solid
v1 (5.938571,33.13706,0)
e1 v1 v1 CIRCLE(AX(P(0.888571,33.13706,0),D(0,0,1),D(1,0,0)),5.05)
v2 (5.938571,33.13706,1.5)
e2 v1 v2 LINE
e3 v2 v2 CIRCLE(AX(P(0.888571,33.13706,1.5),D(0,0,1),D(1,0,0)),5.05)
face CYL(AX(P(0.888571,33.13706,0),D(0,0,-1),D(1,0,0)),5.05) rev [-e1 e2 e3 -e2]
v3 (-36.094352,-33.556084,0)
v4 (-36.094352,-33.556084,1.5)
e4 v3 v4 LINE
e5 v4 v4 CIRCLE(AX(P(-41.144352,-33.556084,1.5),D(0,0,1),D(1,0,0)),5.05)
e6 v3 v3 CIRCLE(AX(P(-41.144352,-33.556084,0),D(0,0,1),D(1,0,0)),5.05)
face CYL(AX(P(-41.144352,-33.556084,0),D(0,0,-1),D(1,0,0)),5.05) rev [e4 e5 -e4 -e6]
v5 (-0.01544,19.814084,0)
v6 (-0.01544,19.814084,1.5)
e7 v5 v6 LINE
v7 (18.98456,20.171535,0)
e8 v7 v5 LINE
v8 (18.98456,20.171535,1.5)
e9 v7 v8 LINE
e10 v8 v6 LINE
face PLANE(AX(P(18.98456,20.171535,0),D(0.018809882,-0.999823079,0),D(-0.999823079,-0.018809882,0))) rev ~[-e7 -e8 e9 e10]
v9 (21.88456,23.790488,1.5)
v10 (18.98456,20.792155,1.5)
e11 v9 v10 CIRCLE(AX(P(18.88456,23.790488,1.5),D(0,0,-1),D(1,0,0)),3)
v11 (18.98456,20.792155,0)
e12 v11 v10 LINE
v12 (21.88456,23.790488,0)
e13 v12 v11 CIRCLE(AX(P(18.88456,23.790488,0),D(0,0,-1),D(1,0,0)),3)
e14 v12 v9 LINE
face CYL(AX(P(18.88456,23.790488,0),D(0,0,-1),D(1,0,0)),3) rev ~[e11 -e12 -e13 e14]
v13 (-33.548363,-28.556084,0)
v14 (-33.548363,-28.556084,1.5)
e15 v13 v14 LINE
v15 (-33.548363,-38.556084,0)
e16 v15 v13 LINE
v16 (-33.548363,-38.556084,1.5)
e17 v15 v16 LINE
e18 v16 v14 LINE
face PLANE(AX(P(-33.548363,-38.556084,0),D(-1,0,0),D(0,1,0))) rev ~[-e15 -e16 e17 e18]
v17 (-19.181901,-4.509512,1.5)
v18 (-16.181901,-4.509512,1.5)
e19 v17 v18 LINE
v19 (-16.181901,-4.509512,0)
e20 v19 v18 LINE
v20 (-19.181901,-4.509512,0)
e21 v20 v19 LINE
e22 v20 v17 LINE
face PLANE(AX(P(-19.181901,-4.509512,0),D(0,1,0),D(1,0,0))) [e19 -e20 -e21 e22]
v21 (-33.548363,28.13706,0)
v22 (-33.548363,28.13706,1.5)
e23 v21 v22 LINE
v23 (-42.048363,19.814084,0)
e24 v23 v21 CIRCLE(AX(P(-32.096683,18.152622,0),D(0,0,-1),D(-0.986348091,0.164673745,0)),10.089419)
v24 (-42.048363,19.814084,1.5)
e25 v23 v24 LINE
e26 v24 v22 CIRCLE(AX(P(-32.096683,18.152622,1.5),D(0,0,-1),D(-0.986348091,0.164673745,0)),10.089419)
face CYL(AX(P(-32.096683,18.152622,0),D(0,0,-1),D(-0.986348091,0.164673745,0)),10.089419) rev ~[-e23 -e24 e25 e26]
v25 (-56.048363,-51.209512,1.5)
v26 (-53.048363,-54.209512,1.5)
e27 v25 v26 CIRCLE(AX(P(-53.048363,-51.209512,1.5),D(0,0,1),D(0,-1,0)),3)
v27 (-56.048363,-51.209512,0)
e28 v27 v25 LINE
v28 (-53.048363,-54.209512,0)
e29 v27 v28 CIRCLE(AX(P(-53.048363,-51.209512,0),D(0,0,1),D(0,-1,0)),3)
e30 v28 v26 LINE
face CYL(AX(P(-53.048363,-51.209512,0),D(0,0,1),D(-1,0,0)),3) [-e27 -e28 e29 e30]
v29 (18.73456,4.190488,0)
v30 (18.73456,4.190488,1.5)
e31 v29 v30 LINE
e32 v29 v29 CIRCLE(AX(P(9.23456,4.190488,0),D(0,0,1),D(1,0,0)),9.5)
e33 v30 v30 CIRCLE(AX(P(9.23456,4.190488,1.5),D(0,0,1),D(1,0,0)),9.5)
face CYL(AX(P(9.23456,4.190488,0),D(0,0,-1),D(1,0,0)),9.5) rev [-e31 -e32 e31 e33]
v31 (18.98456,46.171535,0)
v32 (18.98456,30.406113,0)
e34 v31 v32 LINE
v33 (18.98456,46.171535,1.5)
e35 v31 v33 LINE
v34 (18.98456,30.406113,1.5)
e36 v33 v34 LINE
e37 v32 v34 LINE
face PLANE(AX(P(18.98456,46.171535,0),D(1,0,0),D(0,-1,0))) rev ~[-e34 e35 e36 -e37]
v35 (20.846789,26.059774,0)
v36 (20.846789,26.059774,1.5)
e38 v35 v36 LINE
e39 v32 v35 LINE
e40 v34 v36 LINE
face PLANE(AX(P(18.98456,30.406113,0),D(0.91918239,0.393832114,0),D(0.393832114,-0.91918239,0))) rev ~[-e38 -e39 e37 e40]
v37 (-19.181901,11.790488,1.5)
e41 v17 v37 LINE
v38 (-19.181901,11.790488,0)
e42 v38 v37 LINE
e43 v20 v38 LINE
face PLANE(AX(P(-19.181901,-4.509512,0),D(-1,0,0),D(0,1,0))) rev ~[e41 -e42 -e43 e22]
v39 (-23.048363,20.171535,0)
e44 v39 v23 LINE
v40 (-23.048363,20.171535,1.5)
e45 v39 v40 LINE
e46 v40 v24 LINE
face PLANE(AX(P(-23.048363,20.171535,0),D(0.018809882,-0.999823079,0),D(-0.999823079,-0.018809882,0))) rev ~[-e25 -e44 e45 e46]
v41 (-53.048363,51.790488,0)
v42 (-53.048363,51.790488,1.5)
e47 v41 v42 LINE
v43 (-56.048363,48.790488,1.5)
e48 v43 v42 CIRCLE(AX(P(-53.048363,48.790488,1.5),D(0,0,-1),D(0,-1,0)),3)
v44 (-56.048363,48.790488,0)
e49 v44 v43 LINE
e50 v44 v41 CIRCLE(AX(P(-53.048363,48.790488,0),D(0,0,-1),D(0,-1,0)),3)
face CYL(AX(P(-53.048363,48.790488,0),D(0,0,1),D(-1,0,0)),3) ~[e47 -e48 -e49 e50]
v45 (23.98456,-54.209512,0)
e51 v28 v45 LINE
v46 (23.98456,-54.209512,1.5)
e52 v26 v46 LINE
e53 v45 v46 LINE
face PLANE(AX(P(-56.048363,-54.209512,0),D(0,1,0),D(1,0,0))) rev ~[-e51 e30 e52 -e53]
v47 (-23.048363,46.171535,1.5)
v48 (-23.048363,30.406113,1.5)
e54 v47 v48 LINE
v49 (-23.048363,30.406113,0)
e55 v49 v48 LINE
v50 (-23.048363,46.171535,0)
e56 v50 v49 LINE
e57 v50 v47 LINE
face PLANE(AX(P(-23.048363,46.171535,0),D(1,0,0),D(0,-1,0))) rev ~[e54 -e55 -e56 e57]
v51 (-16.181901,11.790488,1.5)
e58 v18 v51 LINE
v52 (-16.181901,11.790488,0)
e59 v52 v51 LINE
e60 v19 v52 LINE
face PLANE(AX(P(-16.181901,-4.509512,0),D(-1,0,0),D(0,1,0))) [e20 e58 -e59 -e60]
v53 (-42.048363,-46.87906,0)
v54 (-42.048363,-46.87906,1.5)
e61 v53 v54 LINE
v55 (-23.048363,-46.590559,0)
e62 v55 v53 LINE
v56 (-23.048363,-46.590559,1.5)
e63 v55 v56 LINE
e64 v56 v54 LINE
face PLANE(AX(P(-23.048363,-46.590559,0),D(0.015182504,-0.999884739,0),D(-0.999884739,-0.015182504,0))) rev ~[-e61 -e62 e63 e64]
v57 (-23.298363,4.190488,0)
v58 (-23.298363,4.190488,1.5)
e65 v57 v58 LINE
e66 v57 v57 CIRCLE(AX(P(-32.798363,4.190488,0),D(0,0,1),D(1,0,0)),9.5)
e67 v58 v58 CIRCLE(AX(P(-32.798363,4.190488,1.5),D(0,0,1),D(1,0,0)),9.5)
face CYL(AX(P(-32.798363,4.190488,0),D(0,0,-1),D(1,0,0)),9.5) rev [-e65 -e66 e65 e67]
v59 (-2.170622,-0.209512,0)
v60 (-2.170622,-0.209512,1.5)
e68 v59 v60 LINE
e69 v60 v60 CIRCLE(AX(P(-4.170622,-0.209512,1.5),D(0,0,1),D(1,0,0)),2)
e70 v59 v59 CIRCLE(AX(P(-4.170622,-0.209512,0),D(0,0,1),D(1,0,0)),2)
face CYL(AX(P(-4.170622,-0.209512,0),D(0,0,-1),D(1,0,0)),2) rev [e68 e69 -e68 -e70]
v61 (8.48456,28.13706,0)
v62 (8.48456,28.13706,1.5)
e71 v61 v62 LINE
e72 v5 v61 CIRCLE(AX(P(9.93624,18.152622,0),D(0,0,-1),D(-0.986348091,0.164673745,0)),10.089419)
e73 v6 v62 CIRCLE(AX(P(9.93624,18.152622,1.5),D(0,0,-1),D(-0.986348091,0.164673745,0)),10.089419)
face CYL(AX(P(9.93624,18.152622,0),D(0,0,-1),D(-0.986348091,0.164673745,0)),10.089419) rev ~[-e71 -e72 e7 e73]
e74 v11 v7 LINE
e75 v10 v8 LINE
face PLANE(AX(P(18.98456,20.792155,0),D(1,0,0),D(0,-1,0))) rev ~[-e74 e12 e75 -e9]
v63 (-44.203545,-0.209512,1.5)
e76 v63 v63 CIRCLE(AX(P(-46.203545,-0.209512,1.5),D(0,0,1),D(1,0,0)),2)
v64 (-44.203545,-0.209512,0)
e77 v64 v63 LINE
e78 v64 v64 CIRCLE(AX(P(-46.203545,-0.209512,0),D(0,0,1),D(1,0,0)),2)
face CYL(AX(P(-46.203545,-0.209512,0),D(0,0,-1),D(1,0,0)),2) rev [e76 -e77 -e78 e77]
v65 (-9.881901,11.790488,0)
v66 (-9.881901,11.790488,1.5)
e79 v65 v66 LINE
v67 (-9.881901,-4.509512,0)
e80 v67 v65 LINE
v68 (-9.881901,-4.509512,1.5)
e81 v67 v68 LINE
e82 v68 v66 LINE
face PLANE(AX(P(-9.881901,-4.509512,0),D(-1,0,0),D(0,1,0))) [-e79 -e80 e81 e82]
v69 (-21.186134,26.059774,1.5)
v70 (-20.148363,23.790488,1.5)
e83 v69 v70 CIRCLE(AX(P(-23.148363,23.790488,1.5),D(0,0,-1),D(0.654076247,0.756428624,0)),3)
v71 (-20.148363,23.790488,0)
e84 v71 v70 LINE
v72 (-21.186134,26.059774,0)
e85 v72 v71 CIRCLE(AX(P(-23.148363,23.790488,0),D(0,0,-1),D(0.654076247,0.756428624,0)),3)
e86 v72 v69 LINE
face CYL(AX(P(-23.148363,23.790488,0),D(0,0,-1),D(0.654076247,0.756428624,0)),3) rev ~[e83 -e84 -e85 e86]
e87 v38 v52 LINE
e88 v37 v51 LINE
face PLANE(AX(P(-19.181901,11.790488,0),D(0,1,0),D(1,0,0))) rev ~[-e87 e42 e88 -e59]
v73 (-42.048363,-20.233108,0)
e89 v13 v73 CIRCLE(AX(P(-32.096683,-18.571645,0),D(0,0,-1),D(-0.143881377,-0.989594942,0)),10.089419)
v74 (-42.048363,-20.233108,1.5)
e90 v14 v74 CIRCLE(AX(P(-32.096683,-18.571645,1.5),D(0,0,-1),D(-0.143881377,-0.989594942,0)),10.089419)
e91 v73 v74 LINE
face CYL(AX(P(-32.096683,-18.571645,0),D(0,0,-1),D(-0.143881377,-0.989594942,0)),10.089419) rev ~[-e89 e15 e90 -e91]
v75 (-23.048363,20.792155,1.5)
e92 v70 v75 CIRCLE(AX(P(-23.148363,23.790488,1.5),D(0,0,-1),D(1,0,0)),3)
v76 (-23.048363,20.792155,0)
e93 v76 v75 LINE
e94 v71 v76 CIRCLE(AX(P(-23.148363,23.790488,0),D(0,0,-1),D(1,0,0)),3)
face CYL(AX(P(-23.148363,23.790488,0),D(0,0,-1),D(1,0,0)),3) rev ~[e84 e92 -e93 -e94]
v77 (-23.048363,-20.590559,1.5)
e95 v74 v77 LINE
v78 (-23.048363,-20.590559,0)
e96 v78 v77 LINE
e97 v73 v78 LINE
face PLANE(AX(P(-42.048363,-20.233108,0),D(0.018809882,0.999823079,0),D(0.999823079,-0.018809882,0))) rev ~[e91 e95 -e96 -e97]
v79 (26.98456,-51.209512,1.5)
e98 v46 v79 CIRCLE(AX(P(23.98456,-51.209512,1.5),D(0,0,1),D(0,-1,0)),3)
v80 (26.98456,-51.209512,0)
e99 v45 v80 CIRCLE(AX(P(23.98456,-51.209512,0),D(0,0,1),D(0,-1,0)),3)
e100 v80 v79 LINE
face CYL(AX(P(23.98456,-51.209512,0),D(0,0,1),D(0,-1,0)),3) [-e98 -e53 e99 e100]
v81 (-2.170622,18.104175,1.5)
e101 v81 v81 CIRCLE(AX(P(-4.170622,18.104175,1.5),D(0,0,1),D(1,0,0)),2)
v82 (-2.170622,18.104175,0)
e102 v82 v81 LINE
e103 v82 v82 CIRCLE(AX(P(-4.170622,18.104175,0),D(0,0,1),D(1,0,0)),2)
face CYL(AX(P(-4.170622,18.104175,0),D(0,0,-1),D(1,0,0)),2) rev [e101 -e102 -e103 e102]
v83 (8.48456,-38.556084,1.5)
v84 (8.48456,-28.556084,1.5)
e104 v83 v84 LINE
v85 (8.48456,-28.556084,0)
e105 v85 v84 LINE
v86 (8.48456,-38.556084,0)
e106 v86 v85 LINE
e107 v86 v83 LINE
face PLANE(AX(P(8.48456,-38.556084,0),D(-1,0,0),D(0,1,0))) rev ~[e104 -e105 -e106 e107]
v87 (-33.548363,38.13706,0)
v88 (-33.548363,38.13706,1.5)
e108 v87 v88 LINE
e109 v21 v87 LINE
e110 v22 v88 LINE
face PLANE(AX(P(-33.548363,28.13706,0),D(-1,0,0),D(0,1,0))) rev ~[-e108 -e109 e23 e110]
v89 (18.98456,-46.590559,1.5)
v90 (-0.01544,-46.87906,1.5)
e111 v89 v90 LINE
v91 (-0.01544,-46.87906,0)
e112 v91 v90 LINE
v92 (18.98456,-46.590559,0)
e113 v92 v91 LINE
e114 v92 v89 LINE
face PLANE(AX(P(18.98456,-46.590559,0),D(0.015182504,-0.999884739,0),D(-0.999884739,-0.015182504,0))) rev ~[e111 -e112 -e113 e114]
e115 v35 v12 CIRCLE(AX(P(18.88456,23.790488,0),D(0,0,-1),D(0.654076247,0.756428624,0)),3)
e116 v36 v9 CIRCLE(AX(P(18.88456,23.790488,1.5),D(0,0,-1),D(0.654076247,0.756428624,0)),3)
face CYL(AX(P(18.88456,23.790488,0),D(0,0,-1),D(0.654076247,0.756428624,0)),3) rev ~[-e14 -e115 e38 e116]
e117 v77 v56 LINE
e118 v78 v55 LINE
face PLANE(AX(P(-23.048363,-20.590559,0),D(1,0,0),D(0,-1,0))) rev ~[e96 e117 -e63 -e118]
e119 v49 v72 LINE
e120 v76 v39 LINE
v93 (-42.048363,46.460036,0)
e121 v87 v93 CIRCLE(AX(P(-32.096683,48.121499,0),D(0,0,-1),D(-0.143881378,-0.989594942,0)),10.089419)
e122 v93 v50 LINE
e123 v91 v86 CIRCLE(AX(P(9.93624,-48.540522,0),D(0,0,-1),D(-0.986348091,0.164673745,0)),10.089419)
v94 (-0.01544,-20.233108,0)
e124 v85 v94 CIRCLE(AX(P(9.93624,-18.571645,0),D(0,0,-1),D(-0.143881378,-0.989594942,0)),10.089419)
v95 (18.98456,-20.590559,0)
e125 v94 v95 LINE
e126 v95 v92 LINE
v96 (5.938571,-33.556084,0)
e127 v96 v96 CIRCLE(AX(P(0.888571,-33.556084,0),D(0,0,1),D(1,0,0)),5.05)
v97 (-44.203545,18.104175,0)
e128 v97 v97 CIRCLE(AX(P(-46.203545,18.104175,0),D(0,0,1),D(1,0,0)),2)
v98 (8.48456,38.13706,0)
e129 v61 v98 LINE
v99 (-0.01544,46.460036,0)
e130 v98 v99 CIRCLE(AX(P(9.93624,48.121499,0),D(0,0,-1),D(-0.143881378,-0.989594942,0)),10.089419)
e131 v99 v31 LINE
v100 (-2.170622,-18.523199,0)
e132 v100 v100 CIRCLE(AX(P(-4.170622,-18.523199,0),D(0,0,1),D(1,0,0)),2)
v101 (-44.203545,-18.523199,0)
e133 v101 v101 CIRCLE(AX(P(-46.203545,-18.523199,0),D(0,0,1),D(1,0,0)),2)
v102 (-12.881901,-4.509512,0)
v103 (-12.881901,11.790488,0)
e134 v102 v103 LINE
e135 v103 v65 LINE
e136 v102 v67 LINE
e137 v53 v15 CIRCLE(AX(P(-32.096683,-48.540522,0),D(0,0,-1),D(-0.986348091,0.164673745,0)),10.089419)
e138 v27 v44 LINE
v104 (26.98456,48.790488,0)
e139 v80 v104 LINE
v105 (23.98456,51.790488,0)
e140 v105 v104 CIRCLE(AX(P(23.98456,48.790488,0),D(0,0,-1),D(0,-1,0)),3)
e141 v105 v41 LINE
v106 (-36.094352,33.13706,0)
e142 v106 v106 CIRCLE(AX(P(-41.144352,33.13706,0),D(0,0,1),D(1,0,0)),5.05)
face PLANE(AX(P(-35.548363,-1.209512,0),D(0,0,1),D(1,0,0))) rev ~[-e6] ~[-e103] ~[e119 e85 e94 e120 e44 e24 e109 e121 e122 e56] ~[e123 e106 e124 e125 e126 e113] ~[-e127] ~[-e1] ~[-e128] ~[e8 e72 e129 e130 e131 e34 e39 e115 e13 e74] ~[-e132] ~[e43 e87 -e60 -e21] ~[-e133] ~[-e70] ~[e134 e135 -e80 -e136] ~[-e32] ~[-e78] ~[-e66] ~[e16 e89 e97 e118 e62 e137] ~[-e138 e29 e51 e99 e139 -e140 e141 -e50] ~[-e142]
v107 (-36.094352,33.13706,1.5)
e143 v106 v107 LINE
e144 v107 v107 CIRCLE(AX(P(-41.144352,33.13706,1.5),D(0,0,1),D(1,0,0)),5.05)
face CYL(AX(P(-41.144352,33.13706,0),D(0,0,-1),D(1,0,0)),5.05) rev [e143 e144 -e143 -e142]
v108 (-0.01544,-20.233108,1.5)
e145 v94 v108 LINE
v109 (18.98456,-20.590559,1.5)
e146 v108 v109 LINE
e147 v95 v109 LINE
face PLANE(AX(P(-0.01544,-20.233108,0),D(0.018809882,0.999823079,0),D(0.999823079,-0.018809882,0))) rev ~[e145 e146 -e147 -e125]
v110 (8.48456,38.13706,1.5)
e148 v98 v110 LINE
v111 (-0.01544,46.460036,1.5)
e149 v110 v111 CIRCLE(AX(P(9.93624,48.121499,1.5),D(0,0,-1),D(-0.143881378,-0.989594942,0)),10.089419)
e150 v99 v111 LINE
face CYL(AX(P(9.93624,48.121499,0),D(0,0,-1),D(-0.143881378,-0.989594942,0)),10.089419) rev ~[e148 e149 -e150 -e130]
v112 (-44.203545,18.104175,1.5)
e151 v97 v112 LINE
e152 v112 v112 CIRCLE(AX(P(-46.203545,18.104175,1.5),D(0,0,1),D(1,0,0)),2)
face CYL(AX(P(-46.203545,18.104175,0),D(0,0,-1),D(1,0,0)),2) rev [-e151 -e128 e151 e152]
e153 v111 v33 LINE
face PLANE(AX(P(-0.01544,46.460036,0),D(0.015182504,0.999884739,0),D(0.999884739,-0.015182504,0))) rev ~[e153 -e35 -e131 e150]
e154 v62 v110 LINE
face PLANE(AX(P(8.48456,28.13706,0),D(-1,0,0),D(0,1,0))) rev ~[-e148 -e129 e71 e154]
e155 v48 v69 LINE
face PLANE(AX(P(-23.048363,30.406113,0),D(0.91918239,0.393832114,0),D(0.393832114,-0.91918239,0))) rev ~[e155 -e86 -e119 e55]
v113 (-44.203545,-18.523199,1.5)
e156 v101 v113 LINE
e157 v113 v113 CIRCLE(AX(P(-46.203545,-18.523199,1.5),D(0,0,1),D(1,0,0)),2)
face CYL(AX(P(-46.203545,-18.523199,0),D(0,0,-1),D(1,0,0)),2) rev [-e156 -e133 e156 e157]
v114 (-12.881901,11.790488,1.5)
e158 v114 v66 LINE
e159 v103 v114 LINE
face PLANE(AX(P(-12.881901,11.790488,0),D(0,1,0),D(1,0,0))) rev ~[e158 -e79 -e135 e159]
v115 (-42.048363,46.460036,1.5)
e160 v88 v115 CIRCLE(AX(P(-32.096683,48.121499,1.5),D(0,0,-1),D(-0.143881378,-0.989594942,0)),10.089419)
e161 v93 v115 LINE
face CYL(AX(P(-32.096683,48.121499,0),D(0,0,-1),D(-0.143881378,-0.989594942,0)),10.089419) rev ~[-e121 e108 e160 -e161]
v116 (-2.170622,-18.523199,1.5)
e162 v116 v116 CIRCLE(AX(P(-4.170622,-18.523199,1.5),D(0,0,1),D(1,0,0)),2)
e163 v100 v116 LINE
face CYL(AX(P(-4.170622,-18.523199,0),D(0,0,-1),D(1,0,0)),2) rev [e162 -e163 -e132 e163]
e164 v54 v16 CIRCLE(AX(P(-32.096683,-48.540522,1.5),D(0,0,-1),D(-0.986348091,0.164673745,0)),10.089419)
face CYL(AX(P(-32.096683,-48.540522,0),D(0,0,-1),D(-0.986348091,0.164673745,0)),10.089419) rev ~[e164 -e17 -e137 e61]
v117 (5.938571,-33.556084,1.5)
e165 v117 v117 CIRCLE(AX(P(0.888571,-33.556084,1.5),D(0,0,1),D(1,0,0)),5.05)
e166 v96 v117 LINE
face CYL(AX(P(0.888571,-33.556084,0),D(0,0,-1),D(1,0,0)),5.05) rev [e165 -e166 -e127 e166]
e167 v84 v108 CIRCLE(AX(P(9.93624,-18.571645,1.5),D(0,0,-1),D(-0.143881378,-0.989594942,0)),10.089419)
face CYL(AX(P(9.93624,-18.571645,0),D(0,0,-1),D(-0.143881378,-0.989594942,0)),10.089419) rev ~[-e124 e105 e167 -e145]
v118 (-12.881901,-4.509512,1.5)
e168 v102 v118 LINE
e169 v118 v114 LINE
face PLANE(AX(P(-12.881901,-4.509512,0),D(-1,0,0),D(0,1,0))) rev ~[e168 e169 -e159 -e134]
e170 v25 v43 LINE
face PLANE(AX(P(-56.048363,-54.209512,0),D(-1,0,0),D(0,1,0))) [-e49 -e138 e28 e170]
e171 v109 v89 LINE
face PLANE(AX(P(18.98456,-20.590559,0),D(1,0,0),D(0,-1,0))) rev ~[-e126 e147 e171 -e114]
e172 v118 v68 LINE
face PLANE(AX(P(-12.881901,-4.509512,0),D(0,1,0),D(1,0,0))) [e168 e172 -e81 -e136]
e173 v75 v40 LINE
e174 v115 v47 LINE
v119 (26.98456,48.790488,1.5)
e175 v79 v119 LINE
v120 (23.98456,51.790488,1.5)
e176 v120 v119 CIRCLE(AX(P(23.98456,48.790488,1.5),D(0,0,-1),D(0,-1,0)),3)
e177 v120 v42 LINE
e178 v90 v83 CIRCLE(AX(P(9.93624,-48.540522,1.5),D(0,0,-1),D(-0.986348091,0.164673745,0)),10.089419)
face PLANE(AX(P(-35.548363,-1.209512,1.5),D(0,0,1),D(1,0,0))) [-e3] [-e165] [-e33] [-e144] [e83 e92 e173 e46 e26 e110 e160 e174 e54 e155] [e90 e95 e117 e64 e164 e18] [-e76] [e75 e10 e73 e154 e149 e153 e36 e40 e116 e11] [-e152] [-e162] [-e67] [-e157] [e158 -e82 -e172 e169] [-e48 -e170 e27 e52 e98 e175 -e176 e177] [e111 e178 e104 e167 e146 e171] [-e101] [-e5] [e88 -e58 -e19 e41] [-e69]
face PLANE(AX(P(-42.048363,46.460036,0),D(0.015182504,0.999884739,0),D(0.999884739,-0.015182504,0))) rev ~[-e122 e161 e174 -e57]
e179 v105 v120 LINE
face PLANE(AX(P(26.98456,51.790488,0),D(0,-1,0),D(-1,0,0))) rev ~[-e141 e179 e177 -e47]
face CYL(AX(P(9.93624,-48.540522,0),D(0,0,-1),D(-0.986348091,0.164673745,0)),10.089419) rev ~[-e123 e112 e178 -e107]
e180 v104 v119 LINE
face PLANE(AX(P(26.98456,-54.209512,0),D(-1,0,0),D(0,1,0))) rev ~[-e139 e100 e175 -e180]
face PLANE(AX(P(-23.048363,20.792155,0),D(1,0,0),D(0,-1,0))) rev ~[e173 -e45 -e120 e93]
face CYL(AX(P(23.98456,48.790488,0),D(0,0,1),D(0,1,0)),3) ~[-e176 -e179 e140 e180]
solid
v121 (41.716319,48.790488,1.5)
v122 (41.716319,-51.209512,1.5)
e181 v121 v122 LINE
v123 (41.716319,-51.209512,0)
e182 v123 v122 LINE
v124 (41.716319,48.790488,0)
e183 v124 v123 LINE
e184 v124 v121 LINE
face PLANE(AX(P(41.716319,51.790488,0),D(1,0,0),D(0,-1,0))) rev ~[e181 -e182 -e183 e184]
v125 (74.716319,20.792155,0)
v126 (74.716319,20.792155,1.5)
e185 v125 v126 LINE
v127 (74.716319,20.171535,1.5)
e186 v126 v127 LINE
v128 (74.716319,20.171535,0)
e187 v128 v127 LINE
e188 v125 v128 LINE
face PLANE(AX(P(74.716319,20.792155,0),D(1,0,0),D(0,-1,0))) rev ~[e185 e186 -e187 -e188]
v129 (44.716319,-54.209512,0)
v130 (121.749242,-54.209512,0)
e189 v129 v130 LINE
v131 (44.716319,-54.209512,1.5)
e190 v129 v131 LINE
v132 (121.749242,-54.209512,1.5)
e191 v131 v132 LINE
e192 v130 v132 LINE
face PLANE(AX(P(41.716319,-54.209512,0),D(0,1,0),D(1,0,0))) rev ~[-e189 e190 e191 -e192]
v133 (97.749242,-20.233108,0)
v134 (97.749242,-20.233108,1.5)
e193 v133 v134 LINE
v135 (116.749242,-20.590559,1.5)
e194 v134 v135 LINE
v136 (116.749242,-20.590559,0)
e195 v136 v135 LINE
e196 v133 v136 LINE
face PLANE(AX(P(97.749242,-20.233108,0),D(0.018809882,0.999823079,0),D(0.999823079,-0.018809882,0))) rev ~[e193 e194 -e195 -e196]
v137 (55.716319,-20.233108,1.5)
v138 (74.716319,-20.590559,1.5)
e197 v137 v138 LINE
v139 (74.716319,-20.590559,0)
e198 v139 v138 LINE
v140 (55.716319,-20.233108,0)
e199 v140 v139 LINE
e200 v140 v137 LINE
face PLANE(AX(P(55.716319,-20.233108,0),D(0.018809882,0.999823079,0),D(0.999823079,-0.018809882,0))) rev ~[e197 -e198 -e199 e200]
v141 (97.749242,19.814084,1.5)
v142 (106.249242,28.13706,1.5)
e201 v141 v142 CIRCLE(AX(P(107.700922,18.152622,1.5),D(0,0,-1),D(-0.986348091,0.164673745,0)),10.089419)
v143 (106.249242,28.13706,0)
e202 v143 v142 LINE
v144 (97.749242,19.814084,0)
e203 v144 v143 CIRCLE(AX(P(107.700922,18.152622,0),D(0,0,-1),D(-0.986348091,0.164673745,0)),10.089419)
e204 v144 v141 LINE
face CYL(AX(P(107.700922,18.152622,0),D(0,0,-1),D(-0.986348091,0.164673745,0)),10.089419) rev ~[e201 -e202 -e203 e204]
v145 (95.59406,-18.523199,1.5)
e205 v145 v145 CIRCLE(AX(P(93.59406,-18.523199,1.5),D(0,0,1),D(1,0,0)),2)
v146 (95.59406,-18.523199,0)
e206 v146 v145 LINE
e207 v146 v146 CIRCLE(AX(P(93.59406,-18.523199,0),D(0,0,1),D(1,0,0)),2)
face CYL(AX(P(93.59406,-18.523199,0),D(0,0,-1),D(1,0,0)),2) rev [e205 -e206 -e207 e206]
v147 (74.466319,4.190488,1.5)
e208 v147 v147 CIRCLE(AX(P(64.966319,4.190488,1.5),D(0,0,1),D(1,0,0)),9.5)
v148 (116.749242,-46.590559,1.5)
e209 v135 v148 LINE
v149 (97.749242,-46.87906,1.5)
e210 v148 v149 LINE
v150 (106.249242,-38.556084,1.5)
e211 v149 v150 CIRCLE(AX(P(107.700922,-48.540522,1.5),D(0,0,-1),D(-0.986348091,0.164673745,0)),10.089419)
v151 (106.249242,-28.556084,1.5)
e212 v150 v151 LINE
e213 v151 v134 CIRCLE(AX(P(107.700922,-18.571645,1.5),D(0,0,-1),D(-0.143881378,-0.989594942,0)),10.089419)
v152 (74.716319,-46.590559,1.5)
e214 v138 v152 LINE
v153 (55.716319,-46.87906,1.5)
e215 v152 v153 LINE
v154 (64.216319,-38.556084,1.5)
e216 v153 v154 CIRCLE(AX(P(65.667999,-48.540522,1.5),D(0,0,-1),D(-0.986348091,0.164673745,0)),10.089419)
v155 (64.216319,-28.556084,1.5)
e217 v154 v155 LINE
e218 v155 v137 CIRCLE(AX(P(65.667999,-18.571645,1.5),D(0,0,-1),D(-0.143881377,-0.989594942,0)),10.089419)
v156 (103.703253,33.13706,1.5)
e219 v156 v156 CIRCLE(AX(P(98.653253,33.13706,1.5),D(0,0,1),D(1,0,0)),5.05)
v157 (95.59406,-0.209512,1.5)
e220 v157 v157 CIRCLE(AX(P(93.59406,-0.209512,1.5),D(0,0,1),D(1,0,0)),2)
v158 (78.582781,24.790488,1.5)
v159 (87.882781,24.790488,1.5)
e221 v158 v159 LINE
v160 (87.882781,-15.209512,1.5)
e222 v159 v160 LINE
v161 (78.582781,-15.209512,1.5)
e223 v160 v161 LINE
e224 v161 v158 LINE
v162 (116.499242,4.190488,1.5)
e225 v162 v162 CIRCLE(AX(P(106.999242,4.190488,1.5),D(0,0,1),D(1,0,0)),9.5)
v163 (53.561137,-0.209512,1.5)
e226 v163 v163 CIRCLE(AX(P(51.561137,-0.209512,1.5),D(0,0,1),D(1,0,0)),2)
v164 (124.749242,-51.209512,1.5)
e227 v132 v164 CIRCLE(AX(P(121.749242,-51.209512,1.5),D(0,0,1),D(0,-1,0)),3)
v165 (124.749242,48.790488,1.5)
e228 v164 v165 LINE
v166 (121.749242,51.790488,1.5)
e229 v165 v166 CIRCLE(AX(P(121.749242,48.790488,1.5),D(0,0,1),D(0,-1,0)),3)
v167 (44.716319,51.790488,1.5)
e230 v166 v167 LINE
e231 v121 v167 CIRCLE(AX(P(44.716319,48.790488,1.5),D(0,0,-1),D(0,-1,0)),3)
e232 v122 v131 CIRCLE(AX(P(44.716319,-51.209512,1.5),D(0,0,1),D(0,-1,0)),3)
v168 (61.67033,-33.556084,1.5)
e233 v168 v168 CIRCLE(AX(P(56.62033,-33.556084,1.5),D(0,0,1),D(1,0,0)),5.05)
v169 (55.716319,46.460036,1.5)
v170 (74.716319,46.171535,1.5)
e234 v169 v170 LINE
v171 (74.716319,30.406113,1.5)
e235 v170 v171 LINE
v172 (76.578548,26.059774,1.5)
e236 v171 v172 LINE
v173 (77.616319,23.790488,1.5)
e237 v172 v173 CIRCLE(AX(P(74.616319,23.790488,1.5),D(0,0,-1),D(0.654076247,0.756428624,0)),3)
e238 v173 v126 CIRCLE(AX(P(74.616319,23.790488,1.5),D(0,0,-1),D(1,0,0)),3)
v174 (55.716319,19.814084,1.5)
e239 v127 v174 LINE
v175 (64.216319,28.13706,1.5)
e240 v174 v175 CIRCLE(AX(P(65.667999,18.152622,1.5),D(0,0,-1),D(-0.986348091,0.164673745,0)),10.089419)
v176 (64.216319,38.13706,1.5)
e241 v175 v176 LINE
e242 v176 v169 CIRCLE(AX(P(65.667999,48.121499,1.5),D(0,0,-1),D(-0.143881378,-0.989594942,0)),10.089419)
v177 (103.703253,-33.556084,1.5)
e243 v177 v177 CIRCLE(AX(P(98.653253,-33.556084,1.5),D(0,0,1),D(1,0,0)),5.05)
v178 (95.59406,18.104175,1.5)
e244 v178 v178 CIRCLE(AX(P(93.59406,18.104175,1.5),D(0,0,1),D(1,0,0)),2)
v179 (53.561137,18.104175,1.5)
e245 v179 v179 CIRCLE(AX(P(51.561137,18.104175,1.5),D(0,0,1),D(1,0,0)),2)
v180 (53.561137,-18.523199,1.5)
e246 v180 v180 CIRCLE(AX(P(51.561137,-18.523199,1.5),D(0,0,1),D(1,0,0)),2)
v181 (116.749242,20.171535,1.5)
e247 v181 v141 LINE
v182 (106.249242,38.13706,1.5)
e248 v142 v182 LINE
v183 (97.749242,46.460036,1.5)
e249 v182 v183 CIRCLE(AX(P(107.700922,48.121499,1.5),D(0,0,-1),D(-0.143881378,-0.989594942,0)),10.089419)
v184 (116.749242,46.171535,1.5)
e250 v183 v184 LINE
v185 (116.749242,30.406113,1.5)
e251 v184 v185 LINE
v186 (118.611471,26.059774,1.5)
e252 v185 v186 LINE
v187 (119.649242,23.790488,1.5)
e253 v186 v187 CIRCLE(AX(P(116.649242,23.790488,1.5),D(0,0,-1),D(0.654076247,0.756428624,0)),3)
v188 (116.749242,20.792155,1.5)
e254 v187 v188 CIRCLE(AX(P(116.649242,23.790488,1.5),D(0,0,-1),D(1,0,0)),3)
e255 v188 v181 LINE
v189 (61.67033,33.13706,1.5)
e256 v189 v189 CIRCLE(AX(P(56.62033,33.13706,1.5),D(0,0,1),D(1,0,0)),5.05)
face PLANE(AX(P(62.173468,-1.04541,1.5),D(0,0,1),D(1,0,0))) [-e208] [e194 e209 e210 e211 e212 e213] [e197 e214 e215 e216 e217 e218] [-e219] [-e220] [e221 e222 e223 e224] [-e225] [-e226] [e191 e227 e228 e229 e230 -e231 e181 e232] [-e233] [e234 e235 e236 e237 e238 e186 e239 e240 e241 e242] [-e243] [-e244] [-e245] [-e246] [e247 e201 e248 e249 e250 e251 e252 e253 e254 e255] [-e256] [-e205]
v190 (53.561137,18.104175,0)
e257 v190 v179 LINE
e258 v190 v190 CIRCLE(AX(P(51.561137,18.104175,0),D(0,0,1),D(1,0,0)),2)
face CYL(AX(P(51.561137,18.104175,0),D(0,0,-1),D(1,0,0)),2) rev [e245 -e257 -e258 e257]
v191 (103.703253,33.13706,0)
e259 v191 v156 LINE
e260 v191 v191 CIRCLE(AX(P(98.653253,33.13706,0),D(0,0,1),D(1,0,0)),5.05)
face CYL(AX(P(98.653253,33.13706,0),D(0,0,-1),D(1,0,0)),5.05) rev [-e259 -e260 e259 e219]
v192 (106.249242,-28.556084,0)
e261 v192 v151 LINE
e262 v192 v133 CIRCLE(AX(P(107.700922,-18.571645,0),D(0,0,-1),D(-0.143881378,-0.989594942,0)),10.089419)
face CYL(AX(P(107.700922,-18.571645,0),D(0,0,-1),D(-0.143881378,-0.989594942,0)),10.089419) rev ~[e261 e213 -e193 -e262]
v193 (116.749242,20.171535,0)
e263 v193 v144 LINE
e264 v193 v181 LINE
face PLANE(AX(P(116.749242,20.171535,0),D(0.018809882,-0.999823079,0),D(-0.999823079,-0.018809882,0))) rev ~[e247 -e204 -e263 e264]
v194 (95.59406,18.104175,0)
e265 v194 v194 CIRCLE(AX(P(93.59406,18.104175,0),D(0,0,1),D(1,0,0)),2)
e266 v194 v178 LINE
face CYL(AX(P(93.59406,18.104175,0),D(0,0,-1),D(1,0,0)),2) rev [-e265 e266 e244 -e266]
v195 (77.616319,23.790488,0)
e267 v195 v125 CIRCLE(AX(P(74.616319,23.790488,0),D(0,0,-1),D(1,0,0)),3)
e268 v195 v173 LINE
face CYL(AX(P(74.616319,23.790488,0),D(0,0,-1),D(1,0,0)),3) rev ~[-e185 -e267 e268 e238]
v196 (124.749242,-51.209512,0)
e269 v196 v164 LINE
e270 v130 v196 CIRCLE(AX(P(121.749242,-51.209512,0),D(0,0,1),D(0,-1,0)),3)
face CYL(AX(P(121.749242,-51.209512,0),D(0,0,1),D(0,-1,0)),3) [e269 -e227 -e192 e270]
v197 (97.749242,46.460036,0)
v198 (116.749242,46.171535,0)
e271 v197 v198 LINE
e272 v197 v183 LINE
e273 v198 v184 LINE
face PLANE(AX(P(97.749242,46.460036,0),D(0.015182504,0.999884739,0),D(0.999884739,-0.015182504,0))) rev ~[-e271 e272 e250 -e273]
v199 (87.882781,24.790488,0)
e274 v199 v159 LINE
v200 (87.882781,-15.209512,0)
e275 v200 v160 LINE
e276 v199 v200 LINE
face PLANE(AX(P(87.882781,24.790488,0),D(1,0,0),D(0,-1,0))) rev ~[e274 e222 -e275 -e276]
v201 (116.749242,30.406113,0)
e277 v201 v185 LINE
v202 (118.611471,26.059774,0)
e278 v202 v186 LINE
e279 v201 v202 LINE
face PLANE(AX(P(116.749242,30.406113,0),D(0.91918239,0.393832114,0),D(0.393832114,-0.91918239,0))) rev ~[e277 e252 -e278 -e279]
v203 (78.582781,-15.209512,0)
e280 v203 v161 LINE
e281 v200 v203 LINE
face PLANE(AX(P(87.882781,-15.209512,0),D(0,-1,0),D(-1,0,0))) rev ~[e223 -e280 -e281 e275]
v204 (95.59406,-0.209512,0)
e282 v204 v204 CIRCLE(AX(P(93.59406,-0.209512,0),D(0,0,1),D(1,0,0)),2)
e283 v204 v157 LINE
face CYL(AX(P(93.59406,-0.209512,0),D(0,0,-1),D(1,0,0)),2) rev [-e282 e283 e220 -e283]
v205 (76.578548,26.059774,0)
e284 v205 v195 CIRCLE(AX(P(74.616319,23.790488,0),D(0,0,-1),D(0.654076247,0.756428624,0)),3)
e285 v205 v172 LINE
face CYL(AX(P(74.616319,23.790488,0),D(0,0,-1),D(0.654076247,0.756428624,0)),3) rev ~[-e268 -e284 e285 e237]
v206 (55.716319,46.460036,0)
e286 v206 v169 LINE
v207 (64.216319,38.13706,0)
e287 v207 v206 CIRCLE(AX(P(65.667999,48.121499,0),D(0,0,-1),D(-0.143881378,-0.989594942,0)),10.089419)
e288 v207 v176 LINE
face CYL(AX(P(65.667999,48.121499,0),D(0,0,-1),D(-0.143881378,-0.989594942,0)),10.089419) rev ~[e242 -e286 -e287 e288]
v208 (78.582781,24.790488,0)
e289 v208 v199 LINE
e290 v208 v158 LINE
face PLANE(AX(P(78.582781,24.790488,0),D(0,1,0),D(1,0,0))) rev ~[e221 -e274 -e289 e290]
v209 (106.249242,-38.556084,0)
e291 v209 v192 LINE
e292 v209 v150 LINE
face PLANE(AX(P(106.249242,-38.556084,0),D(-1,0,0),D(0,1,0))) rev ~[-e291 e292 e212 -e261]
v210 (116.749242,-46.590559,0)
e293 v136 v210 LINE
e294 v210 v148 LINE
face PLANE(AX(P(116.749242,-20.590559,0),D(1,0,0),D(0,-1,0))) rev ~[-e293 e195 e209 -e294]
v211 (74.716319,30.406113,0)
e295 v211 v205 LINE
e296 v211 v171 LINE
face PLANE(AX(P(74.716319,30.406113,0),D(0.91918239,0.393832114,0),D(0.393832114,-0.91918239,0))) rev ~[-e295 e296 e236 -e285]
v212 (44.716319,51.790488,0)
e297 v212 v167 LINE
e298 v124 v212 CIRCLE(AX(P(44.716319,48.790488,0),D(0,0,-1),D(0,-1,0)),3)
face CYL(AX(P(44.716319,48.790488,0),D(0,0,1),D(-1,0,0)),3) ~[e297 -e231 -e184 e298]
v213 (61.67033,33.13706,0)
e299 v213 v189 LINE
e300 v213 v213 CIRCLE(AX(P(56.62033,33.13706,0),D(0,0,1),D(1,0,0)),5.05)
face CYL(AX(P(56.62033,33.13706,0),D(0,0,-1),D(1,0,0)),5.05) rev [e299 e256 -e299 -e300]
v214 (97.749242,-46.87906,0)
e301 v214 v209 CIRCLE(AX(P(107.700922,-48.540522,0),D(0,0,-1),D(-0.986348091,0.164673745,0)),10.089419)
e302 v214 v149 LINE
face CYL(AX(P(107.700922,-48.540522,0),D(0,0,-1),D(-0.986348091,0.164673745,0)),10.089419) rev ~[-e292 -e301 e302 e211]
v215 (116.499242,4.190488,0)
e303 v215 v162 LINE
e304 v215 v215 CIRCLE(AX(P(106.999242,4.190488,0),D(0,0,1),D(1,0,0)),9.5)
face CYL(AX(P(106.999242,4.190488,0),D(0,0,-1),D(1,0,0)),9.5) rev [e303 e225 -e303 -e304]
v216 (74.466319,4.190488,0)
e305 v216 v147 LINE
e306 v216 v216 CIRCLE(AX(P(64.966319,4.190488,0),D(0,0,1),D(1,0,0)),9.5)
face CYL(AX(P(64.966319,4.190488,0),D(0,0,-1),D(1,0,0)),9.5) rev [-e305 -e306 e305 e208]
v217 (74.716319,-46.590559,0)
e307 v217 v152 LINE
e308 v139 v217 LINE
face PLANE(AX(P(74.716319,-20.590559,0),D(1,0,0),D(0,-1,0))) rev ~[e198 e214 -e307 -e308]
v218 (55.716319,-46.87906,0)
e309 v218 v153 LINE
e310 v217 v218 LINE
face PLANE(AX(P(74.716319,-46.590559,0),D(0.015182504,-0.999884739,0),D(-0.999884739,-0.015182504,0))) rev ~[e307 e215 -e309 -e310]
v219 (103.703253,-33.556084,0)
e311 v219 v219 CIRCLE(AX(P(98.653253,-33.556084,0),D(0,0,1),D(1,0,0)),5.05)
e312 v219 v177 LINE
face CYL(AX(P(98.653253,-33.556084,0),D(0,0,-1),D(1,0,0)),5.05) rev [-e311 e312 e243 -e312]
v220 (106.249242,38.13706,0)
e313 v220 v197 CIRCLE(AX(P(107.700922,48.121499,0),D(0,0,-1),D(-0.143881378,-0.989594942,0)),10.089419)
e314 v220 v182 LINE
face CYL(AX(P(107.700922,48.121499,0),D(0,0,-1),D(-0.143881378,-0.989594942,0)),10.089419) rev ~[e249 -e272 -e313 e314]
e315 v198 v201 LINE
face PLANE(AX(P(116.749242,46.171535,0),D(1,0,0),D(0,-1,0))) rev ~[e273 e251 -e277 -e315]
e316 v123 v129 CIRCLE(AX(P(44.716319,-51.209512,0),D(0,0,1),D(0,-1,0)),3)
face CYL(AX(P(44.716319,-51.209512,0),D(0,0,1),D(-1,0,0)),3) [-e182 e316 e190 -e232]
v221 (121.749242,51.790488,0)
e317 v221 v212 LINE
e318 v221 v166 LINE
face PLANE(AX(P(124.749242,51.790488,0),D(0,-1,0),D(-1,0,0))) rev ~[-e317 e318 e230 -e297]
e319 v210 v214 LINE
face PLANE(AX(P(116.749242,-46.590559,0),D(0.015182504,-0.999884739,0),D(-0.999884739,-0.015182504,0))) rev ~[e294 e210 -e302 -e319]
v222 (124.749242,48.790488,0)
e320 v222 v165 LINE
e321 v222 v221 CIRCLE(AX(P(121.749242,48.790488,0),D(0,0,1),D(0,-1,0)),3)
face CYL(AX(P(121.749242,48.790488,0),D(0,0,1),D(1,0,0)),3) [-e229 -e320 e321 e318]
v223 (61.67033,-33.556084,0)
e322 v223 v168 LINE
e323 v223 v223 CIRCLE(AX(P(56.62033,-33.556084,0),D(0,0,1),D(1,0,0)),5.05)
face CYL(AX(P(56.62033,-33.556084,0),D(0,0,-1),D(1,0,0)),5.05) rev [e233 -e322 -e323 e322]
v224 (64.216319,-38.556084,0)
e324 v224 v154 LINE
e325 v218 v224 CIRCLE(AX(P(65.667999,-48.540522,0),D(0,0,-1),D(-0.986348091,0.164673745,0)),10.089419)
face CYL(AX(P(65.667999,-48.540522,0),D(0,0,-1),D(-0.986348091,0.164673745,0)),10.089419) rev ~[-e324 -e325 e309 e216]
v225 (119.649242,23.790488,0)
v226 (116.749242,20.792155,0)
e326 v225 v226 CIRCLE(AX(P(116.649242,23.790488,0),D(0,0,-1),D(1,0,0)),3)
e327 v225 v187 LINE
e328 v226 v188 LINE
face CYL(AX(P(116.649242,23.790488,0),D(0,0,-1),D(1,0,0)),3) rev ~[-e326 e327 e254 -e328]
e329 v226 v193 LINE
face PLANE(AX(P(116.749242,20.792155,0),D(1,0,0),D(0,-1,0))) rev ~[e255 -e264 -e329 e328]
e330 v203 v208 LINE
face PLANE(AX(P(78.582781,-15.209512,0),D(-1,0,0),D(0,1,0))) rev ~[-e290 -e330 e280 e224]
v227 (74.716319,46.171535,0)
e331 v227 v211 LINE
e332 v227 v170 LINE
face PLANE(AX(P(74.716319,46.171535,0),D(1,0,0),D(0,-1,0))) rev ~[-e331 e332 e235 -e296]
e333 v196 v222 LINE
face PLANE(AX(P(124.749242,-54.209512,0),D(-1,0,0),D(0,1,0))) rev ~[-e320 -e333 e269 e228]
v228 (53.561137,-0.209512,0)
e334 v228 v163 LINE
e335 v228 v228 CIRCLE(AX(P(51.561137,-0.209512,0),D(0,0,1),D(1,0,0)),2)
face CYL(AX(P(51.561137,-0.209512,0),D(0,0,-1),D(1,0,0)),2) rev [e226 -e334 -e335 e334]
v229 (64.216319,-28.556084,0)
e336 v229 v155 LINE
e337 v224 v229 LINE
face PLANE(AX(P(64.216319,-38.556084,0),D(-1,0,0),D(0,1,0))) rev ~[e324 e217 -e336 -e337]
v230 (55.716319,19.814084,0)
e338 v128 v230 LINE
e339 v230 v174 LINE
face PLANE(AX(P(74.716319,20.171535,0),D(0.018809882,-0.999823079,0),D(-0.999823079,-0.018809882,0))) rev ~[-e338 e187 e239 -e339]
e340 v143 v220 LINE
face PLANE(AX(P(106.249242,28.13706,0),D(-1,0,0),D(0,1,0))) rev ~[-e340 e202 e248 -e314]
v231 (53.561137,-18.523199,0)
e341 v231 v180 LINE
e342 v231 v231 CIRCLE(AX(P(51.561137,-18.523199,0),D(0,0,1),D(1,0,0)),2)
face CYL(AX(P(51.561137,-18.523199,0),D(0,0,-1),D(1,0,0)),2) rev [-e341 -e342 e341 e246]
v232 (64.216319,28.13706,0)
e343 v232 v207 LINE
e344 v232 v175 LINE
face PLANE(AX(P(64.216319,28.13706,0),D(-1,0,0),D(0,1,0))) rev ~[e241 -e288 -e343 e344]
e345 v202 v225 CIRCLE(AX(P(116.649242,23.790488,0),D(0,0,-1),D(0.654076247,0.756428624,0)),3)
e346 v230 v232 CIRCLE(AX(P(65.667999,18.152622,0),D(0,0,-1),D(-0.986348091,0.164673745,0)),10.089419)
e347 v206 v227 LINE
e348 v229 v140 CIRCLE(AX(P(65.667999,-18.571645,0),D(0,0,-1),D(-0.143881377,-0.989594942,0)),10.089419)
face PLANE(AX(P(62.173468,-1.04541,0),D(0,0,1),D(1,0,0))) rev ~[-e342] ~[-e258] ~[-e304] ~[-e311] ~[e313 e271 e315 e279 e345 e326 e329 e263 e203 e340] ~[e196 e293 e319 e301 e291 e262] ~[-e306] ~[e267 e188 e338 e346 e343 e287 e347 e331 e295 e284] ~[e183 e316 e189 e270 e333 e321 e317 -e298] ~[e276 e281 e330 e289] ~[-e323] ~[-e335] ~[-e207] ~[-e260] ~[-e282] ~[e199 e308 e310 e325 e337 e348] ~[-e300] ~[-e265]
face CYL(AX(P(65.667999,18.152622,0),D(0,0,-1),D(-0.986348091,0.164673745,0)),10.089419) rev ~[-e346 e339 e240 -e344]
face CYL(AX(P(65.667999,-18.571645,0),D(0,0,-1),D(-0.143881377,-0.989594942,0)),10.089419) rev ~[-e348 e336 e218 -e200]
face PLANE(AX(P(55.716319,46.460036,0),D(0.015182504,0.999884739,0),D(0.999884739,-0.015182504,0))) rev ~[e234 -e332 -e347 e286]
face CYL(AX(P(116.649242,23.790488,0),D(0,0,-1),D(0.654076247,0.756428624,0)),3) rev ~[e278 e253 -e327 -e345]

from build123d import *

# Parameters (mm, degrees)
F0_W     = 41
F0_H     = 106
F0_R     = 5.05
F0_R_2   = 2
F0_R_3   = 9.5
F0_W_2   = 3
F0_H_2   = 16.3
F0_W_3   = 1.0329227456
F1_DEPTH = 1.5
F0_H_3   = 39
F0_H_4   = 27
F2_R     = 3
F2_2_R   = 3


with BuildPart() as f1:
    # F0 (on Top) → F1 (new body)
    with BuildSketch(Plane.XY):
        with Locations((-35.5483626434, -1.2095117271)):
            Rectangle(F0_W, F0_H)
        with Locations((-41.1443521491, -33.556083858)):
            Circle(F0_R, mode=Mode.SUBTRACT)
        with BuildLine():
            ThreePointArc((-33.5483626434, -28.556083858), (-39.1555166863, -25.7806156934), (-42.0483626434, -20.2331079411))
            Line((-42.0483626434, -20.2331079411), (-23.0483626434, -20.590558947))
            Line((-23.0483626434, -20.590558947), (-23.0483626434, -46.590558947))
            Line((-23.0483626434, -46.590558947), (-42.0483626434, -46.8790597749))
            ThreePointArc((-42.0483626434, -46.8790597749), (-39.1555166863, -41.3315520227), (-33.5483626434, -38.556083858))
            Line((-33.5483626434, -38.556083858), (-33.5483626434, -28.556083858))
        make_face(mode=Mode.SUBTRACT)
        with Locations((-46.2035445282, -18.5231987163)):
            Circle(F0_R_2, mode=Mode.SUBTRACT)
        with Locations((-46.2035445282, -0.2095117271)):
            Circle(F0_R_2, mode=Mode.SUBTRACT)
        with Locations((-32.7983626434, 4.1904882729)):
            Circle(F0_R_3, mode=Mode.SUBTRACT)
        with Locations((-17.6819012706, 3.6404882729)):
            Rectangle(F0_W_2, F0_H_2, mode=Mode.SUBTRACT)
        with Locations((-46.2035445282, 18.1041752622)):
            Circle(F0_R_2, mode=Mode.SUBTRACT)
        with Locations((-41.1443521491, 33.1370604038)):
            Circle(F0_R, mode=Mode.SUBTRACT)
        with BuildLine():
            ThreePointArc((-33.5483626434, 38.1370604038), (-39.1555166863, 40.9125285685), (-42.0483626434, 46.4600363208))
            Line((-42.0483626434, 46.4600363208), (-23.0483626434, 46.1715354928))
            Line((-23.0483626434, 46.1715354928), (-23.0483626434, 30.4061131087))
            Line((-23.0483626434, 30.4061131087), (-21.1861339023, 26.0597741446))
            ThreePointArc((-21.1861339023, 26.0597741446), (-20.4201135507, 25.038148839), (-20.1483626434, 23.7904882729))
            ThreePointArc((-20.1483626434, 23.7904882729), (-20.9919767781, 21.7048229114), (-23.0483626434, 20.7921554028))
            Line((-23.0483626434, 20.7921554028), (-23.0483626434, 20.1715354928))
            Line((-23.0483626434, 20.1715354928), (-42.0483626434, 19.8140844869))
            ThreePointArc((-42.0483626434, 19.8140844869), (-39.1555166863, 25.3615922392), (-33.5483626434, 28.1370604038))
            Line((-33.5483626434, 28.1370604038), (-33.5483626434, 38.1370604038))
        make_face(mode=Mode.SUBTRACT)
        with Locations((-14.5319012706, -1.2095117271)):
            Rectangle(F0_W_3, F0_H)
        with Locations((6.4845601022, -1.2095117271)):
            Rectangle(F0_W, F0_H)
        with Locations((0.8885705966, -33.556083858)):
            Circle(F0_R, mode=Mode.SUBTRACT)
        with BuildLine():
            ThreePointArc((8.4845601022, -28.556083858), (2.8774060594, -25.7806156934), (-0.0154398978, -20.2331079411))
            Line((-0.0154398978, -20.2331079411), (18.9845601022, -20.590558947))
            Line((18.9845601022, -20.590558947), (18.9845601022, -46.590558947))
            Line((18.9845601022, -46.590558947), (-0.0154398978, -46.8790597749))
            ThreePointArc((-0.0154398978, -46.8790597749), (2.8774060594, -41.3315520227), (8.4845601022, -38.556083858))
            Line((8.4845601022, -38.556083858), (8.4845601022, -28.556083858))
        make_face(mode=Mode.SUBTRACT)
        with Locations((-4.1706217825, -18.5231987163)):
            Circle(F0_R_2, mode=Mode.SUBTRACT)
        with Locations((-11.3819012706, 3.6404882729)):
            Rectangle(F0_W_2, F0_H_2, mode=Mode.SUBTRACT)
        with Locations((-4.1706217825, -0.2095117271)):
            Circle(F0_R_2, mode=Mode.SUBTRACT)
        with Locations((9.2345601022, 4.1904882729)):
            Circle(F0_R_3, mode=Mode.SUBTRACT)
        with Locations((-4.1706217825, 18.1041752622)):
            Circle(F0_R_2, mode=Mode.SUBTRACT)
        with Locations((0.8885705966, 33.1370604038)):
            Circle(F0_R, mode=Mode.SUBTRACT)
        with BuildLine():
            ThreePointArc((8.4845601022, 38.1370604038), (2.8774060594, 40.9125285685), (-0.0154398978, 46.4600363208))
            Line((-0.0154398978, 46.4600363208), (18.9845601022, 46.1715354928))
            Line((18.9845601022, 46.1715354928), (18.9845601022, 30.4061131087))
            Line((18.9845601022, 30.4061131087), (20.8467888433, 26.0597741446))
            ThreePointArc((20.8467888433, 26.0597741446), (21.6128091949, 25.038148839), (21.8845601022, 23.7904882729))
            ThreePointArc((21.8845601022, 23.7904882729), (21.0409459675, 21.7048229114), (18.9845601022, 20.7921554028))
            Line((18.9845601022, 20.7921554028), (18.9845601022, 20.1715354928))
            Line((18.9845601022, 20.1715354928), (-0.0154398978, 19.8140844869))
            ThreePointArc((-0.0154398978, 19.8140844869), (2.8774060594, 25.3615922392), (8.4845601022, 28.1370604038))
            Line((8.4845601022, 28.1370604038), (8.4845601022, 38.1370604038))
        make_face(mode=Mode.SUBTRACT)
    extrude(amount=F1_DEPTH)

    # F2
    f2_edges = [f1.edges().sort_by_distance(p)[0] for p in [
        (26.98456, 51.790488, 0.75),
        (-56.048363, 51.790488, 0.75),
        (-56.048363, -54.209512, 0.75),
        (26.98456, -54.209512, 0.75),
    ]]
    fillet(f2_edges, radius=F2_R)


with BuildPart() as f1b:
    # F0 (on Top) → F1, piece 2 (new body)
    with BuildSketch(Plane.XY):
        Polygon((82.7163193299, 24.7904882729), (82.7163193299, 51.7904882729), (41.7163193299, 51.7904882729), (41.7163193299, -54.2095117271), (82.7163193299, -54.2095117271), (82.7163193299, -15.2095117271), (78.5827807027, -15.2095117271), (78.5827807027, -4.2095117271), (78.5827807027, 11.7904882729), (78.5827807027, 24.7904882729), align=None)
        with Locations((56.6203298242, -33.556083858)):
            Circle(F0_R, mode=Mode.SUBTRACT)
        with BuildLine():
            ThreePointArc((64.2163193299, -28.556083858), (58.609165287, -25.7806156934), (55.7163193299, -20.2331079411))
            Line((55.7163193299, -20.2331079411), (74.7163193299, -20.590558947))
            Line((74.7163193299, -20.590558947), (74.7163193299, -46.590558947))
            Line((74.7163193299, -46.590558947), (55.7163193299, -46.8790597749))
            ThreePointArc((55.7163193299, -46.8790597749), (58.609165287, -41.3315520227), (64.2163193299, -38.556083858))
            Line((64.2163193299, -38.556083858), (64.2163193299, -28.556083858))
        make_face(mode=Mode.SUBTRACT)
        with Locations((51.5611374451, -18.5231987163)):
            Circle(F0_R_2, mode=Mode.SUBTRACT)
        with Locations((51.5611374451, -0.2095117271)):
            Circle(F0_R_2, mode=Mode.SUBTRACT)
        with Locations((64.9663193299, 4.1904882729)):
            Circle(F0_R_3, mode=Mode.SUBTRACT)
        with Locations((51.5611374451, 18.1041752622)):
            Circle(F0_R_2, mode=Mode.SUBTRACT)
        with Locations((56.6203298242, 33.1370604038)):
            Circle(F0_R, mode=Mode.SUBTRACT)
        with BuildLine():
            ThreePointArc((64.2163193299, 38.1370604038), (58.609165287, 40.9125285685), (55.7163193299, 46.4600363208))
            Line((55.7163193299, 46.4600363208), (74.7163193299, 46.1715354928))
            Line((74.7163193299, 46.1715354928), (74.7163193299, 30.4061131087))
            Line((74.7163193299, 30.4061131087), (76.578548071, 26.0597741446))
            ThreePointArc((76.578548071, 26.0597741446), (77.3445684226, 25.038148839), (77.6163193299, 23.7904882729))
            ThreePointArc((77.6163193299, 23.7904882729), (76.7727051952, 21.7048229114), (74.7163193299, 20.7921554028))
            Line((74.7163193299, 20.7921554028), (74.7163193299, 20.1715354928))
            Line((74.7163193299, 20.1715354928), (55.7163193299, 19.8140844869))
            ThreePointArc((55.7163193299, 19.8140844869), (58.609165287, 25.3615922392), (64.2163193299, 28.1370604038))
            Line((64.2163193299, 28.1370604038), (64.2163193299, 38.1370604038))
        make_face(mode=Mode.SUBTRACT)
        Polygon((124.7492420755, 51.7904882729), (83.7492420755, 51.7904882729), (83.7492420755, 24.7904882729), (87.8827807027, 24.7904882729), (87.8827807027, 11.7904882729), (87.8827807027, -4.2095117271), (87.8827807027, -15.2095117271), (83.7492420755, -15.2095117271), (83.7492420755, -54.2095117271), (124.7492420755, -54.2095117271), align=None)
        with Locations((98.6532525699, -33.556083858)):
            Circle(F0_R, mode=Mode.SUBTRACT)
        with BuildLine():
            ThreePointArc((106.2492420755, -28.556083858), (100.6420880327, -25.7806156934), (97.7492420755, -20.2331079411))
            Line((97.7492420755, -20.2331079411), (116.7492420755, -20.590558947))
            Line((116.7492420755, -20.590558947), (116.7492420755, -46.590558947))
            Line((116.7492420755, -46.590558947), (97.7492420755, -46.8790597749))
            ThreePointArc((97.7492420755, -46.8790597749), (100.6420880327, -41.3315520227), (106.2492420755, -38.556083858))
            Line((106.2492420755, -38.556083858), (106.2492420755, -28.556083858))
        make_face(mode=Mode.SUBTRACT)
        with Locations((93.5940601908, -18.5231987163)):
            Circle(F0_R_2, mode=Mode.SUBTRACT)
        with Locations((93.5940601908, -0.2095117271)):
            Circle(F0_R_2, mode=Mode.SUBTRACT)
        with Locations((106.9992420755, 4.1904882729)):
            Circle(F0_R_3, mode=Mode.SUBTRACT)
        with Locations((93.5940601908, 18.1041752622)):
            Circle(F0_R_2, mode=Mode.SUBTRACT)
        with Locations((98.6532525699, 33.1370604038)):
            Circle(F0_R, mode=Mode.SUBTRACT)
        with BuildLine():
            ThreePointArc((106.2492420755, 38.1370604038), (100.6420880327, 40.9125285685), (97.7492420755, 46.4600363208))
            Line((97.7492420755, 46.4600363208), (116.7492420755, 46.1715354928))
            Line((116.7492420755, 46.1715354928), (116.7492420755, 30.4061131087))
            Line((116.7492420755, 30.4061131087), (118.6114708167, 26.0597741446))
            ThreePointArc((118.6114708167, 26.0597741446), (119.3774911682, 25.038148839), (119.6492420755, 23.7904882729))
            ThreePointArc((119.6492420755, 23.7904882729), (118.8056279408, 21.7048229114), (116.7492420755, 20.7921554028))
            Line((116.7492420755, 20.7921554028), (116.7492420755, 20.1715354928))
            Line((116.7492420755, 20.1715354928), (97.7492420755, 19.8140844869))
            ThreePointArc((97.7492420755, 19.8140844869), (100.6420880327, 25.3615922392), (106.2492420755, 28.1370604038))
            Line((106.2492420755, 28.1370604038), (106.2492420755, 38.1370604038))
        make_face(mode=Mode.SUBTRACT)
        with Locations((83.2327807027, -34.7095117271)):
            Rectangle(F0_W_3, F0_H_3)
        with Locations((83.2327807027, 38.2904882729)):
            Rectangle(F0_W_3, F0_H_4)
    extrude(amount=F1_DEPTH)

    # F2#2
    f2_2_edges = [f1b.edges().sort_by_distance(p)[0] for p in [
        (41.716319, 51.790488, 0.75),
        (124.749242, 51.790488, 0.75),
        (41.716319, -54.209512, 0.75),
        (124.749242, -54.209512, 0.75),
    ]]
    fillet(f2_2_edges, radius=F2_2_R)


solid = Compound([f1.part, f1b.part])
